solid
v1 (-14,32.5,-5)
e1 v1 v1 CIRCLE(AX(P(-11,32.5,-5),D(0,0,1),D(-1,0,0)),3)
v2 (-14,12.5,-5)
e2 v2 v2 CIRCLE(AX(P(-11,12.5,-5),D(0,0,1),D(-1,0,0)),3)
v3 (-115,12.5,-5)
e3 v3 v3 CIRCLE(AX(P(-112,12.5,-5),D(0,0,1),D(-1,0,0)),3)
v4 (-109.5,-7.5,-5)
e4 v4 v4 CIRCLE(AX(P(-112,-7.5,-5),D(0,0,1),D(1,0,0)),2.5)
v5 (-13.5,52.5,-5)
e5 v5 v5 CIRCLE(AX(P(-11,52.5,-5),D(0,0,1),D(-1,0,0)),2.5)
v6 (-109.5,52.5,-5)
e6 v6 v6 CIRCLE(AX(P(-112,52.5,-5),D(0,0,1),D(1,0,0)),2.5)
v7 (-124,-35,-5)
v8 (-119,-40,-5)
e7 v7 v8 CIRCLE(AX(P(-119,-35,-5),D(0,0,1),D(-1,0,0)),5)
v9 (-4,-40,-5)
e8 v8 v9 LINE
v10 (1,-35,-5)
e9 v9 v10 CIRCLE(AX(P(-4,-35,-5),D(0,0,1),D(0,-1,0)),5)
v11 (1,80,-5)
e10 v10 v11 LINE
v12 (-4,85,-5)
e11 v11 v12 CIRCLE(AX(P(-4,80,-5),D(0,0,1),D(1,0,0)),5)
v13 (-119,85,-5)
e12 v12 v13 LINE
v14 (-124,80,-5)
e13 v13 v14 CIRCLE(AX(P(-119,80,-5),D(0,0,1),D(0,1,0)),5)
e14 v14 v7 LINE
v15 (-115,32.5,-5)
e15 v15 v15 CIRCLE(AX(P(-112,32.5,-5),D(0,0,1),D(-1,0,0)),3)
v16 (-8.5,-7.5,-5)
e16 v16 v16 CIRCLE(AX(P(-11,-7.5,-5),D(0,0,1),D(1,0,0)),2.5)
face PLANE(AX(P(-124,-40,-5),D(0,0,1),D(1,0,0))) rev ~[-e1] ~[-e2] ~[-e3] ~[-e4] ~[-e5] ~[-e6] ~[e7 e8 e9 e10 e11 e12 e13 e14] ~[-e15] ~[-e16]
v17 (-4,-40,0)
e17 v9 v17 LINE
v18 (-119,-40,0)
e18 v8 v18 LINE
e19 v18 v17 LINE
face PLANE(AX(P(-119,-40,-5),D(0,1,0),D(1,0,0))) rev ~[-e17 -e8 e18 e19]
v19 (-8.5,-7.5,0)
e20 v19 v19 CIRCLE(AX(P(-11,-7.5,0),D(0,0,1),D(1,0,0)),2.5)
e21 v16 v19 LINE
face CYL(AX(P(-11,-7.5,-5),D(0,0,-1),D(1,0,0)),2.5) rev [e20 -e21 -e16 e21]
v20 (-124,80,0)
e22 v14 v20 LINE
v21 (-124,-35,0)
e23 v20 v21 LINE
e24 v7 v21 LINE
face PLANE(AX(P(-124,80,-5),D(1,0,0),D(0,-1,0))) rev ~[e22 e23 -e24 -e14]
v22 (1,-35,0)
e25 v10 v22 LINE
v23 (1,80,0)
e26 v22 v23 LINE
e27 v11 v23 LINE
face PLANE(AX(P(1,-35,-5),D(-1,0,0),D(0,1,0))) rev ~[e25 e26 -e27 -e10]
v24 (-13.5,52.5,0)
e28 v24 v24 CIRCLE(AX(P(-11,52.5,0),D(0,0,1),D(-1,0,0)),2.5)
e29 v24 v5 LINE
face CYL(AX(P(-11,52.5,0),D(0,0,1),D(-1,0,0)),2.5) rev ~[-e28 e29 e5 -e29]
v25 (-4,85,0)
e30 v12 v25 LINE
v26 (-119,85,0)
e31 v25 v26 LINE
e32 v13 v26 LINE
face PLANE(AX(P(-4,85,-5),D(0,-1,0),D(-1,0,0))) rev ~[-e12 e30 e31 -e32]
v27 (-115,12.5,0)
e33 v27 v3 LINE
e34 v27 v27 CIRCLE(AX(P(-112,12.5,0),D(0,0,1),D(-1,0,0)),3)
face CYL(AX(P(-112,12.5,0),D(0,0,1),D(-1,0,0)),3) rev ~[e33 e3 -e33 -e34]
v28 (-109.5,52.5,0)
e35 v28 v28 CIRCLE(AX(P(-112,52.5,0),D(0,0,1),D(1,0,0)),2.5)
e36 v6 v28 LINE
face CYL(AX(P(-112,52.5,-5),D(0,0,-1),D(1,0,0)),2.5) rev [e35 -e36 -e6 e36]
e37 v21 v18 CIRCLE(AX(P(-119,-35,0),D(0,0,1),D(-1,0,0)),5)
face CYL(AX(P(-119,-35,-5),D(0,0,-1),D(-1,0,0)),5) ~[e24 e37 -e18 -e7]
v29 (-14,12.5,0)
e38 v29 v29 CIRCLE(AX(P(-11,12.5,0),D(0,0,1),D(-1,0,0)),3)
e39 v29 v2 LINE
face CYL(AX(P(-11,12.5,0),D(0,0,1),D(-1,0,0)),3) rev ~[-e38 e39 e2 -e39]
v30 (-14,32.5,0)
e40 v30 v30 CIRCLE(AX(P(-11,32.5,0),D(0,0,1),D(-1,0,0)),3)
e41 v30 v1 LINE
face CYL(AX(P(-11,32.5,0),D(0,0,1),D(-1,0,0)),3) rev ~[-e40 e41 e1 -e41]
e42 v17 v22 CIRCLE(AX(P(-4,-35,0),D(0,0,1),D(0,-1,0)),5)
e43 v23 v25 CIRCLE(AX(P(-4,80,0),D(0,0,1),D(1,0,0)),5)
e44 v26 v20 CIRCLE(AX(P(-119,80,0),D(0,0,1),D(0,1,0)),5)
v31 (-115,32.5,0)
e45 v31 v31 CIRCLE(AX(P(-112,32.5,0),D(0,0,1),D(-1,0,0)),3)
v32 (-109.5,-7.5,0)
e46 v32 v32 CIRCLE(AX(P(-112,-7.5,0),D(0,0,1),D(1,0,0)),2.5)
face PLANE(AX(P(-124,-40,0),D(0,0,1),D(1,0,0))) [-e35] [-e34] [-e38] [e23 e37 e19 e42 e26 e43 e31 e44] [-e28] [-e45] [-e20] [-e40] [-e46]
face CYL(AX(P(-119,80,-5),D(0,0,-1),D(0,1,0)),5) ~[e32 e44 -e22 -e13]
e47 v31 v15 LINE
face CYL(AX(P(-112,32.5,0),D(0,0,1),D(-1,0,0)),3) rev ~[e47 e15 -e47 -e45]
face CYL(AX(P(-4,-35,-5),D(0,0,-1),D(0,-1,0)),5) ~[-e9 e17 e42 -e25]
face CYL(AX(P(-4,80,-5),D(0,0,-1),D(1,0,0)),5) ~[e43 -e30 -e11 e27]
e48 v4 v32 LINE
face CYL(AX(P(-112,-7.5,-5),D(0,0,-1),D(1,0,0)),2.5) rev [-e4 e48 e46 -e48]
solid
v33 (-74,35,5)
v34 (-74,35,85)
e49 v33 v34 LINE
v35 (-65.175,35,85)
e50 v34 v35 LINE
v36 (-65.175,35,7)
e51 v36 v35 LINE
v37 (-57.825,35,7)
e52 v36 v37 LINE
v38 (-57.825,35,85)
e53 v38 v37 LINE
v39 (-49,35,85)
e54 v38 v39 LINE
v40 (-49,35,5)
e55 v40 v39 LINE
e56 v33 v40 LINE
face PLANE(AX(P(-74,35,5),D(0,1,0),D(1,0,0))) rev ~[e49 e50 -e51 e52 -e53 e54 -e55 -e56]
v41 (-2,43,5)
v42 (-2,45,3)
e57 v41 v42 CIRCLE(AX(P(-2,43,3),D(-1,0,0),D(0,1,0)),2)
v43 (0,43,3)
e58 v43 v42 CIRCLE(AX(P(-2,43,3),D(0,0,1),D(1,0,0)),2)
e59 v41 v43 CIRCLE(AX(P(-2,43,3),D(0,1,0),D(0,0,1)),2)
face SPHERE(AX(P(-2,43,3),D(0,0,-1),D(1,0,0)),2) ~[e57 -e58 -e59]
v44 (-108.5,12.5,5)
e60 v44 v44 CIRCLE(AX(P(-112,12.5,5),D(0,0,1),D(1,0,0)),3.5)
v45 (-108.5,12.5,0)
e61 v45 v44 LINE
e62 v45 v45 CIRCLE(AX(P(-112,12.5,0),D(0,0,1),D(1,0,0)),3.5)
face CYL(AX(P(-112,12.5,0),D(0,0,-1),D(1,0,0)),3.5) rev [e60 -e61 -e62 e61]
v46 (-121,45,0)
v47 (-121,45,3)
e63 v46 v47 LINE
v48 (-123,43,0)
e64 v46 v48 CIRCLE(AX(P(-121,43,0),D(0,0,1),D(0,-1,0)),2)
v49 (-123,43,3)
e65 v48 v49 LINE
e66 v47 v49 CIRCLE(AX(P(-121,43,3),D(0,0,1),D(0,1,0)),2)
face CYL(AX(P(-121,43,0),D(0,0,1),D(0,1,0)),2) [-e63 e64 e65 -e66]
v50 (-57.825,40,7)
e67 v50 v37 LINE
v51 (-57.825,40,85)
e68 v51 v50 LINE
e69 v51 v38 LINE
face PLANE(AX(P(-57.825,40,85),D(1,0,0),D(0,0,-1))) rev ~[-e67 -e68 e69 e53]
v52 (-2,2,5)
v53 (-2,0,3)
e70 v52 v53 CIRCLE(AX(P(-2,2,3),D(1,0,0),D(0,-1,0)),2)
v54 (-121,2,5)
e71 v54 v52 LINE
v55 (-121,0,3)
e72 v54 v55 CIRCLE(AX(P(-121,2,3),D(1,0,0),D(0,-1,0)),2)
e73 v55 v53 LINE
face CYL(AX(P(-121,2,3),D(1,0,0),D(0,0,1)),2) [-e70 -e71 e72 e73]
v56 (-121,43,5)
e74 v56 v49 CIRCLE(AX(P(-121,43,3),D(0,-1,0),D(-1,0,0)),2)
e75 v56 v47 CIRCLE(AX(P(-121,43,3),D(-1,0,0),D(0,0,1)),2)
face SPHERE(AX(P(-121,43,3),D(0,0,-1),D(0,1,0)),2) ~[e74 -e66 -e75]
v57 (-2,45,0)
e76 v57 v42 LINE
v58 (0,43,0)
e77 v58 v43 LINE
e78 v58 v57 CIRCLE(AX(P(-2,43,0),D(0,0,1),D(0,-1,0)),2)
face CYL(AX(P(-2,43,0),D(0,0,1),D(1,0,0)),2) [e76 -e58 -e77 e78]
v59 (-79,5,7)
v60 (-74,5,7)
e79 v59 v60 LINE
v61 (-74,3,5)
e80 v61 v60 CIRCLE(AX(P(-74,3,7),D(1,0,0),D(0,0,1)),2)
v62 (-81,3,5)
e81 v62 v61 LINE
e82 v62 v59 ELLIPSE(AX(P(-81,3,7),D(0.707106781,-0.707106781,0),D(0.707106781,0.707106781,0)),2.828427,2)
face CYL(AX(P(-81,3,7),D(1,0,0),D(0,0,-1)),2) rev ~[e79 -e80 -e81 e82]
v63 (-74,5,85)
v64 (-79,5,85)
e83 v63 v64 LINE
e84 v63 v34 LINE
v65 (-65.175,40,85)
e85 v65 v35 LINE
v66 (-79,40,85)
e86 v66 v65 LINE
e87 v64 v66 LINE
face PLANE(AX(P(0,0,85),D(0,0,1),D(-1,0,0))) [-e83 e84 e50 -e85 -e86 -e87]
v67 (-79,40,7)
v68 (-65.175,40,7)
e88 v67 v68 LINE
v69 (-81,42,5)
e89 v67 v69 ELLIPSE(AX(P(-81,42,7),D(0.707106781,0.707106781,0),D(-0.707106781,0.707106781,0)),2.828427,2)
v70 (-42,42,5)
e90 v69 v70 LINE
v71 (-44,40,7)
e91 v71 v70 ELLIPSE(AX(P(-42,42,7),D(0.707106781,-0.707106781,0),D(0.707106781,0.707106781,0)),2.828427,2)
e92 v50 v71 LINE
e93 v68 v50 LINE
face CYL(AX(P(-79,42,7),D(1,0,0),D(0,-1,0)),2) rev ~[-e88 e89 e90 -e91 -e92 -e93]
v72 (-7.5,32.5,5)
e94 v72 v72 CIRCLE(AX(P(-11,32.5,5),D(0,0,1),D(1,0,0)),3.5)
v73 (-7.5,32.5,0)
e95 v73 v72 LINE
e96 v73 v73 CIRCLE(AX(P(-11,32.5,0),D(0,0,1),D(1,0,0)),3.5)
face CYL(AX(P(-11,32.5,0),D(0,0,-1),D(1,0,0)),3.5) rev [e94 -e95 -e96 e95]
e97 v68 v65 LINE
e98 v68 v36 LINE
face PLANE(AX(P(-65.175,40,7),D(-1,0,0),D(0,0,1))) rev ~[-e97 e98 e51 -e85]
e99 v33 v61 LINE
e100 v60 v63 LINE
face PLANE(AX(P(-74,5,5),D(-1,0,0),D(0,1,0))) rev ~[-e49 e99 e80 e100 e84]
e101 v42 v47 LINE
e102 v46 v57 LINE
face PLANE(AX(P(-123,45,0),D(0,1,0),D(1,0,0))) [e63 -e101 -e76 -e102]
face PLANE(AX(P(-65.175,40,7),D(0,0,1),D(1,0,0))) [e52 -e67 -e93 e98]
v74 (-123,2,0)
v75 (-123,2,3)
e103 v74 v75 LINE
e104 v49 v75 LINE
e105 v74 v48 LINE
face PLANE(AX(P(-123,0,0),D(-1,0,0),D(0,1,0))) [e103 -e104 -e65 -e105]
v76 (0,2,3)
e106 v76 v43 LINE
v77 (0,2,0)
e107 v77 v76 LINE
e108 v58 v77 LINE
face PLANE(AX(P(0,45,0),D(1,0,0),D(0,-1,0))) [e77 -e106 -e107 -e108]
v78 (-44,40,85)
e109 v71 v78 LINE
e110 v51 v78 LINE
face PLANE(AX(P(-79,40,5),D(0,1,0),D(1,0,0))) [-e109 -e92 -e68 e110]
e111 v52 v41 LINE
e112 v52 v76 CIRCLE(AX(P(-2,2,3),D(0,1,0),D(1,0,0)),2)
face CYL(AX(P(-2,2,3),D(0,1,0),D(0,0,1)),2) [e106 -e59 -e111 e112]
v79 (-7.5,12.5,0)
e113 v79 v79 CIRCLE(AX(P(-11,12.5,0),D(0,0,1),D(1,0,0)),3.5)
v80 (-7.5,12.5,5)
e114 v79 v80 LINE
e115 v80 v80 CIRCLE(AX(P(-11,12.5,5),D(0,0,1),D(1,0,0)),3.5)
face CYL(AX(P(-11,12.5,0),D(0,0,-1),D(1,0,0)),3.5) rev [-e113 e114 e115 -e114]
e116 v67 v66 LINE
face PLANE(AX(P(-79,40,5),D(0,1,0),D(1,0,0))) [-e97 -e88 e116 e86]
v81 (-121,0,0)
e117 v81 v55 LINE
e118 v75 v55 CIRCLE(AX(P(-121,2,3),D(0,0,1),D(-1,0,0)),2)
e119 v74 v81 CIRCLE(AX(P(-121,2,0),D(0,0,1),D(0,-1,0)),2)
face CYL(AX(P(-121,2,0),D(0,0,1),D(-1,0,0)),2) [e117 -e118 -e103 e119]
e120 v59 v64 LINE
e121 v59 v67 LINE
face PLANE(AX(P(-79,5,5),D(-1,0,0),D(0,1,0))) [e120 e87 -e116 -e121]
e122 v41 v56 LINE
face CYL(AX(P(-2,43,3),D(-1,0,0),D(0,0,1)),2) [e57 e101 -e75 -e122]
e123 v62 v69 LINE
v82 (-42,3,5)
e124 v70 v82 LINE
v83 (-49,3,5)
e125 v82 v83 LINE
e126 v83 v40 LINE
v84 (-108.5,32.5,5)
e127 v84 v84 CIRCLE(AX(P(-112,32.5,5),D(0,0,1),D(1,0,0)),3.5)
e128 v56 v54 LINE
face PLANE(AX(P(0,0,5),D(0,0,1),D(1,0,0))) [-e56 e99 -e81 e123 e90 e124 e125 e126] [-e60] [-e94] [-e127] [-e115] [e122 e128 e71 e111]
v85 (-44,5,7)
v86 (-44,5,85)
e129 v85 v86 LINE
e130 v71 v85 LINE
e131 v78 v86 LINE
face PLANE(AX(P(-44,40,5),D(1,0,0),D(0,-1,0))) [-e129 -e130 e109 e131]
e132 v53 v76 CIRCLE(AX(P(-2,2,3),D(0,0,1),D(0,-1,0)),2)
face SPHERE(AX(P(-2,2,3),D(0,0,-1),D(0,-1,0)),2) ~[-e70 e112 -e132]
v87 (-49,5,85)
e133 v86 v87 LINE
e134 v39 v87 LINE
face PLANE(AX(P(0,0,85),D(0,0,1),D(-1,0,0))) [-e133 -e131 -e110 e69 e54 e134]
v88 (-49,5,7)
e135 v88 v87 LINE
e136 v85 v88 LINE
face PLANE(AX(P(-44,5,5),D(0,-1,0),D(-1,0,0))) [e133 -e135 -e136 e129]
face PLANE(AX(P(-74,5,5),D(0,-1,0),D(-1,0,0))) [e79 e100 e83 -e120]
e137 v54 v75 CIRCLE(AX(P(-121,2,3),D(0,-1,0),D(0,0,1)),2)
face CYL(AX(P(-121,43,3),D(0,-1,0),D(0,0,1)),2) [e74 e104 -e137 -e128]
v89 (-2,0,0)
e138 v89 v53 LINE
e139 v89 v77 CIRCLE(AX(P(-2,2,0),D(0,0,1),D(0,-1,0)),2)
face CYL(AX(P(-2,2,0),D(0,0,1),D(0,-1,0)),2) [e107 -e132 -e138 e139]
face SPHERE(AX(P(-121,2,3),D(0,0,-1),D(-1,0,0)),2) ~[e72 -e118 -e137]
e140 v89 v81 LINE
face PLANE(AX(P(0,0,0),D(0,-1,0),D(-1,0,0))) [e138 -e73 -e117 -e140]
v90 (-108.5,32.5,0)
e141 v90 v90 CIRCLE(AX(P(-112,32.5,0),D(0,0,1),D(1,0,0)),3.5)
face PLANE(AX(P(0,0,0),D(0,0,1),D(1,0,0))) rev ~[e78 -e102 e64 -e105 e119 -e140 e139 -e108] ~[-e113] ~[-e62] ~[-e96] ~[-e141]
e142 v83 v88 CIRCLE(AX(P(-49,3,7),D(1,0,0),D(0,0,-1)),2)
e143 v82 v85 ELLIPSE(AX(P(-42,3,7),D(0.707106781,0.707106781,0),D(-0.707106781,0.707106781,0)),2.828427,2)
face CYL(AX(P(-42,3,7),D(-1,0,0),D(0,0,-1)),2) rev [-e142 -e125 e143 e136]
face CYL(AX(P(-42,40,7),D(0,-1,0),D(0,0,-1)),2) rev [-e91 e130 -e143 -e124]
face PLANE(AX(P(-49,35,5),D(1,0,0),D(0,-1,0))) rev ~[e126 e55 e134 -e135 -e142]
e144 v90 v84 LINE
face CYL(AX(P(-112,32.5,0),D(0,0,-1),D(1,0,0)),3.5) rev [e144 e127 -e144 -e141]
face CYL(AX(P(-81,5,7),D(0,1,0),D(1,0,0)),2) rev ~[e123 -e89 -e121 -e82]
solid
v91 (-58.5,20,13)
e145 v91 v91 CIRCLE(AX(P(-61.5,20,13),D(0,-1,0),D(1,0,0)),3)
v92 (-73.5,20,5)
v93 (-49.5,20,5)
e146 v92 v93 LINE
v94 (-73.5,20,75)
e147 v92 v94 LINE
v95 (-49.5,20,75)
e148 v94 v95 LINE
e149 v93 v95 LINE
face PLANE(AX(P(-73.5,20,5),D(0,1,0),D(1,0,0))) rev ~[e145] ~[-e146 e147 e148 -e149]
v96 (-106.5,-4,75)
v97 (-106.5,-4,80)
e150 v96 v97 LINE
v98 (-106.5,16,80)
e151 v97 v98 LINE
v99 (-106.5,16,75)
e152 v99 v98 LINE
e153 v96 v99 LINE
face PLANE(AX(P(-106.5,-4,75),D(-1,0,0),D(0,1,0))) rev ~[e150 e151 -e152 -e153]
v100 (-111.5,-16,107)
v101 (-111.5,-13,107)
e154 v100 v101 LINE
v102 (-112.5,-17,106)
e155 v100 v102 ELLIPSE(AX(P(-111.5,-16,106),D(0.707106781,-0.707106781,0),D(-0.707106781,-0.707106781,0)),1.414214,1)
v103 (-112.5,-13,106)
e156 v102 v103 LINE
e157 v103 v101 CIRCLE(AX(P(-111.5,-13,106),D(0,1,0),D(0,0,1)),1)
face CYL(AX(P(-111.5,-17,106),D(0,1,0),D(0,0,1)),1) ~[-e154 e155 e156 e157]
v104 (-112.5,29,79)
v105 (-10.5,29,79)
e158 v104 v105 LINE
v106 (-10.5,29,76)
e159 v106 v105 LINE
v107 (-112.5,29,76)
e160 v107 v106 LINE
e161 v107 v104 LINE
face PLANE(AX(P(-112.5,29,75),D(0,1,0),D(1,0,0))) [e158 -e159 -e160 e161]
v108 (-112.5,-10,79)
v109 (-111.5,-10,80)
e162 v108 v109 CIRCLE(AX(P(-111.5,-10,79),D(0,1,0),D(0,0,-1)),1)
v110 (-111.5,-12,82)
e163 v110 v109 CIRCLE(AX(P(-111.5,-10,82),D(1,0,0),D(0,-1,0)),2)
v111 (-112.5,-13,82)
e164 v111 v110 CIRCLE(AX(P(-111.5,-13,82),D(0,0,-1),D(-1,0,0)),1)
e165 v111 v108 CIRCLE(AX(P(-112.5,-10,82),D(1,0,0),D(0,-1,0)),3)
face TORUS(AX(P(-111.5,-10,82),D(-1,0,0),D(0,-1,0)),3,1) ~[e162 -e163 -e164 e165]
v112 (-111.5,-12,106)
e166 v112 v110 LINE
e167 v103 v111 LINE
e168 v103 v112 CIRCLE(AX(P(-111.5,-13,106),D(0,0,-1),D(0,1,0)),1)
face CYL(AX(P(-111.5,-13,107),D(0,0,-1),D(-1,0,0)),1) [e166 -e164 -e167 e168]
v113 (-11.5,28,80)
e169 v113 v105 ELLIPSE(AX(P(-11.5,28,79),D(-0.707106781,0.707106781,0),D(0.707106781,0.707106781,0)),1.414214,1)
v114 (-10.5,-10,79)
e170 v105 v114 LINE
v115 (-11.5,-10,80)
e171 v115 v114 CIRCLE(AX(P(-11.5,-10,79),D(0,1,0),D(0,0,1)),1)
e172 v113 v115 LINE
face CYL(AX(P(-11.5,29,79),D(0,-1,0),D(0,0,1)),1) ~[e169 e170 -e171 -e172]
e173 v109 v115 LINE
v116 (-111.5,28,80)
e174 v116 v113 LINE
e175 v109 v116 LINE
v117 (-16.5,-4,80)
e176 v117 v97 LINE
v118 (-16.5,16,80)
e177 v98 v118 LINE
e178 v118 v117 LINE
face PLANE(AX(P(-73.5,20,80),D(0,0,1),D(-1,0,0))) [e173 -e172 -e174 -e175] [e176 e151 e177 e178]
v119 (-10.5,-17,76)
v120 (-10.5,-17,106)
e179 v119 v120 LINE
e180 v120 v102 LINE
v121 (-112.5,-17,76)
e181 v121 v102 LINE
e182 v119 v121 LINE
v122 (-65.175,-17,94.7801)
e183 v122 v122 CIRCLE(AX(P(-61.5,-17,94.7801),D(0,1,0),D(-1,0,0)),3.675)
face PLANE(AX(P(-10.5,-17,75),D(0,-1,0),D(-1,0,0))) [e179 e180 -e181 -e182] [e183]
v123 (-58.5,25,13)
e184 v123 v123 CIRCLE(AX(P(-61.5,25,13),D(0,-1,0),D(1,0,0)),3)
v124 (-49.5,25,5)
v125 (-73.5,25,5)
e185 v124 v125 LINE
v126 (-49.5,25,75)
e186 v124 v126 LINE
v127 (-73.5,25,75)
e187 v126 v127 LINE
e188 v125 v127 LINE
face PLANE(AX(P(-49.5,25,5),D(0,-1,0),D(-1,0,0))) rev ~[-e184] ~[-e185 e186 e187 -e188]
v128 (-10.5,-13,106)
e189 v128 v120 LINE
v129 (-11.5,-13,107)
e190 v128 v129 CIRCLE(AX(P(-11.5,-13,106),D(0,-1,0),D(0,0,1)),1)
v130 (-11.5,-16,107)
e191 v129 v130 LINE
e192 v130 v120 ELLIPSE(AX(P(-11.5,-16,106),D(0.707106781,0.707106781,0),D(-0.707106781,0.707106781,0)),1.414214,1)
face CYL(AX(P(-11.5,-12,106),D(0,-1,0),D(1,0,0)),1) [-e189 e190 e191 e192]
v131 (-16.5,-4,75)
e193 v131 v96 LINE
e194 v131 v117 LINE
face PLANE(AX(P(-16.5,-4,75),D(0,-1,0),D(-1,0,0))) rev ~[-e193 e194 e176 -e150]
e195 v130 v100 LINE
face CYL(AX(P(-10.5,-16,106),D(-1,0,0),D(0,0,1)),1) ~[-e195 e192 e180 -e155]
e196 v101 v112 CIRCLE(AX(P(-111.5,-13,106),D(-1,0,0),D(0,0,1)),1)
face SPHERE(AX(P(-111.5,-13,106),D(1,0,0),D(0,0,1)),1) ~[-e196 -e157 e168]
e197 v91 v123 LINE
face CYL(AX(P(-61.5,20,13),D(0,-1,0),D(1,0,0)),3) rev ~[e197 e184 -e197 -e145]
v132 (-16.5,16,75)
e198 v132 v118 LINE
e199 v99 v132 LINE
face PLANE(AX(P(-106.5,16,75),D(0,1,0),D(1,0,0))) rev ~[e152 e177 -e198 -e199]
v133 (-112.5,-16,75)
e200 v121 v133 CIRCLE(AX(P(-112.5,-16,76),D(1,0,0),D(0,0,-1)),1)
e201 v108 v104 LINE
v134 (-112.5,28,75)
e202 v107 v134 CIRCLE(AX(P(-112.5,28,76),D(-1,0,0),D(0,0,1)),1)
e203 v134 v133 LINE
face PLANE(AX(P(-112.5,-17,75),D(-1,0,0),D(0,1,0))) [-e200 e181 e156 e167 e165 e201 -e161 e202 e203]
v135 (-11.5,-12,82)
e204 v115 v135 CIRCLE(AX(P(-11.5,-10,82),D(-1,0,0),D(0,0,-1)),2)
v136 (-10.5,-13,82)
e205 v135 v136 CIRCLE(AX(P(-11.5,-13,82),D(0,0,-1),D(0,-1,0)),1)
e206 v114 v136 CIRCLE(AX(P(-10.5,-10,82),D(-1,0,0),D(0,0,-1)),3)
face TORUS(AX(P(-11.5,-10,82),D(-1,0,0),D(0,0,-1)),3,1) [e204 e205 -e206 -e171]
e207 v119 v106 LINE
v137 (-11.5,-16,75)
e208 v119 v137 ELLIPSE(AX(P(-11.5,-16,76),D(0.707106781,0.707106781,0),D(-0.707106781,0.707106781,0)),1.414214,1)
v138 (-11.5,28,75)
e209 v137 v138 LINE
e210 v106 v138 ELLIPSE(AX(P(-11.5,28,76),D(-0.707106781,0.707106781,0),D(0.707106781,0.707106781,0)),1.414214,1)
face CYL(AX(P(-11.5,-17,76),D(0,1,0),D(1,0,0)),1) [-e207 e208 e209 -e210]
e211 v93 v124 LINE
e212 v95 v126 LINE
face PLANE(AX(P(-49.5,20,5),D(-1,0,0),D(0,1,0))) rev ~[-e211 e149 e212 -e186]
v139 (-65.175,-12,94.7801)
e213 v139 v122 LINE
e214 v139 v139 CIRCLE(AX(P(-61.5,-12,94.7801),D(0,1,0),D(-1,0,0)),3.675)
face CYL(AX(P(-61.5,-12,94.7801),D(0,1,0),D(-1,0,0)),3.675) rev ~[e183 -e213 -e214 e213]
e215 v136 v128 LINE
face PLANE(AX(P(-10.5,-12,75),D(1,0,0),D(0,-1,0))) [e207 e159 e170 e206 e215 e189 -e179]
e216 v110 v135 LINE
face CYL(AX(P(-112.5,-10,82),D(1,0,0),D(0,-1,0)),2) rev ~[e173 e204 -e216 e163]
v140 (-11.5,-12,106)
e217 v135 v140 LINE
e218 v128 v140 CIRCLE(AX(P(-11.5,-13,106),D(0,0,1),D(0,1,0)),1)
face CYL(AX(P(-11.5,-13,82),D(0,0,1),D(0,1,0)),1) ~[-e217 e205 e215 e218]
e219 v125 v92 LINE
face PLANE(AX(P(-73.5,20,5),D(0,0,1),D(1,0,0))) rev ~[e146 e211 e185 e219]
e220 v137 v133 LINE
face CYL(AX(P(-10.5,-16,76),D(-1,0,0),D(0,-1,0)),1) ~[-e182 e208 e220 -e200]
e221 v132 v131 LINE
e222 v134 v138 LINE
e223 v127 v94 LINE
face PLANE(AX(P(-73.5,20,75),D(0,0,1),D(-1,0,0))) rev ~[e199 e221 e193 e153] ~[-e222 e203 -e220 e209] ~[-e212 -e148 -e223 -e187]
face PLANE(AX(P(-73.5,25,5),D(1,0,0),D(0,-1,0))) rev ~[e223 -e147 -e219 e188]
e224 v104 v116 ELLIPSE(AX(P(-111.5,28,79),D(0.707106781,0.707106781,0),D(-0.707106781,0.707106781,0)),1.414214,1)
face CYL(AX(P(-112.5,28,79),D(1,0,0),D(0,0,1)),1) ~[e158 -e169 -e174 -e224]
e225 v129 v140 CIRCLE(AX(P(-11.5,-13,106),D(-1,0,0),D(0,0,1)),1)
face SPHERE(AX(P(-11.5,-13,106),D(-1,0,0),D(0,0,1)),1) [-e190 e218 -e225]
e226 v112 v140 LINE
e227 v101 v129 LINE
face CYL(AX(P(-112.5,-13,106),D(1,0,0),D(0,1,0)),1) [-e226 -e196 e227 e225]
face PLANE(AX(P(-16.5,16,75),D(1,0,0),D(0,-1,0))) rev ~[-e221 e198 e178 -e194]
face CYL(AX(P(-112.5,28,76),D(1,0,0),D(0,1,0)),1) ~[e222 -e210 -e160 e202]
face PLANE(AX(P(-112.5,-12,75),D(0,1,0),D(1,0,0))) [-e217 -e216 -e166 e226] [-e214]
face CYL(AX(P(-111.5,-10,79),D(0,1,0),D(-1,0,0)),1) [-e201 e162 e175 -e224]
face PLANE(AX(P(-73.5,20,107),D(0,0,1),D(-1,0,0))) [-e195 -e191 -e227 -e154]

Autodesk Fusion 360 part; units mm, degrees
sketch "Sketch1" plane through (0, 0, 0) normal (0, 0, 1) x (1, 0, 0) in component "Main plate"
  line L0 (5, 0) -> (120, 0)
  line L1 (125, 5) -> (125, 120)
  line L2 (120, 125) -> (5, 125)
  line L3 (0, 120) -> (0, 5)
  arc A0 (125, 120) -> (120, 125) centre (120, 120) ccw
  arc A1 (5, 125) -> (0, 120) centre (5, 120) ccw
  arc A2 (0, 5) -> (5, 0) centre (5, 5) ccw
  arc A3 (120, 0) -> (125, 5) centre (120, 5) ccw
  circle A4 centre (12, 32.5) radius 2.5
  circle A5 centre (113, 32.5) radius 2.5
  circle A6 centre (12, 92.5) radius 2.5
  line L4 (45, 80) -> (80, 80)
  line L5 (80, 80) -> (80, 45)
  line L6 (80, 45) -> (45, 45)
  line L7 (45, 45) -> (45, 80)
  dimension "d3" = 10
  dimension "d4" = 10
  dimension "d5" = 10
  dimension "d6" = 10
  dimension "d7" = 5
  dimension "d8" = 12
  dimension "d9" = 32.5
  dimension "d10" = 5
  dimension "d11" = 12
  dimension "d12" = 32.5
  dimension "d13" = 5
  dimension "d15" = 12
  dimension "d16" = 32.5
  dimension "d81" = 35
  dimension "d82" = 35
  dimension "d83" = 45
  dimension "d84" = 45
  dimension "d85" = 45
  dimension "d86" = 45
extrude "Extrude1" add sketch "Sketch1" along normal blind 5 contours L0 L1 L2 L3 A0 A1 A2 A3 | L4 L5 L6 L7 makes body 1 in component "Main plate"
sketch "Sketch1 (2)" plane through (0, 0, 0) normal (0, 0, 1) x (1, 0, 0) in component "Holder"
  line L0 (0, 0) -> (125, 0)
  line L1 (125, 0) -> (125, 25)
  line L2 (125, 25) -> (0, 25)
  line L3 (0, 25) -> (0, 0)
  circle A0 centre (12, 8) radius 2.55
  circle A1 centre (113, 8) radius 2.55
  line L4 (23.5147, 12.5) -> (94.9191, 12.5) construction
  line L5 (0, 20) -> (125, 20)
  dimension "d21" = 125
  dimension "d22" = 25
  dimension "d23" = 5.1
  dimension "d24" = 5.1
  dimension "d25" = 8
  dimension "d26" = 8
  dimension "d27" = 12
  dimension "d28" = 12
  dimension "d29" = 12.5
  dimension "d30" = 5
extrude "Extrude1'" add sketch "Sketch1 (2)" along normal blind 5 separate body contours L0 L1 L3 L5 makes body 2 in component "Holder"
extrude "Extrude2" add sketch "Sketch1 (2)" along normal blind 100 contours L1 L2 L3 L5 bodies 2 in component "Holder"
fillet "Fillet1" radius 3 1 edges at (62.5, 20, 5) on bodies 2 in component "Holder"
sketch "Sketch2" plane through (0, 20, 0) normal (0, -1, 0) x (1, 0, 0) in component "Holder"
sketch "Sketch3" plane through (0, 20, 0) normal (0, -1, 0) x (1, 0, 0) in component "Holder"
  line L0 (125, 100) -> (0, 100)
  line L1 (62.5, 100) -> (62.5, 8) construction
  line L2 (125, 8) -> (125, 100)
  line L3 (125, 8) -> (0, 8)
  circle A0 centre (62.5, 94.325) radius 3.675
  circle A1 centre (62.5, 82.975) radius 3.675
  circle A2 centre (62.5, 84.175) radius 3.275
  circle A3 centre (62.5, 84.175) radius 3.275
  circle A4 centre (62.5, 73.625) radius 3.275
  circle A5 centre (62.5, 63.075) radius 3.275
  circle A6 centre (62.5, 52.525) radius 3.275
  circle A7 centre (62.5, 52.525) radius 3.275
  circle A8 centre (62.5, 41.975) radius 3.275
  circle A9 centre (62.5, 31.425) radius 3.275
  circle A10 centre (62.5, 20.875) radius 3.275
  dimension "d37" = 62.5
  dimension "cam_diameter" = 7.35
  dimension "d39" = 5.675
  dimension "d40" = 7.35
  dimension "d41" = 11.35
  dimension "d42" = 6.55
  dimension "d43" = 6.55
  dimension "d44" = 6.55
  dimension "d45" = 6.55
  dimension "d46" = 6.55
  dimension "d47" = 6.55
  dimension "d48" = 6.55
  dimension "d49" = 6.55
  dimension "d50" = 6.55
extrude "Extrude3" cut sketch "Sketch3" against normal blind 5 bodies 2 in component "Holder"
fillet "Fillet2" radius 1 15 edges at (0, 22.5, 100) (62.5, 25, 100) (125, 22.5, 100) (125, 8.5, 5) (125, 19.1213, 5.8787) (125, 20, 54) (125, 25, 50) (125, 12.5, 0) (62.5, 0, 5) (62.5, 0, 0) (0, 20, 54) (0, 19.1213, 5.8787) (0, 8.5, 5) (0, 12.5, 0) (0, 25, 50) on bodies 2 in component "Holder"
sketch "Sketch4" plane through (0, 20, 0) normal (0, -1, 0) x (1, 0, 0) in component "Holder"
  line L0 (11, 90) -> (52.5, 90)
  line L1 (52.5, 90) -> (52.5, 18)
  line L2 (52.5, 18) -> (11, 18)
  line L3 (11, 18) -> (11, 90)
  line L4 (1, 8) -> (1, 100)
  line L5 (125, 100) -> (0, 100)
  line L6 (125, 8) -> (0, 8)
  line L7 (72.5, 90) -> (114, 90)
  line L8 (114, 90) -> (114, 18)
  line L9 (114, 18) -> (72.5, 18)
  line L10 (72.5, 18) -> (72.5, 90)
  point P0 (62.5, 73.625)
  point P1 (62.5, 82.975)
  dimension "d55" = 10
  dimension "d56" = 10
  dimension "d57" = 10
  dimension "d58" = 10
  dimension "d59" = 72
  dimension "d60" = 41.5
  dimension "d61" = 41.5
  dimension "d62" = 72
  dimension "d63" = 10
  dimension "d64" = 10
sketch "Sketch2 (2)" plane through (0, 0, 5) normal (0, 0, 1) x (-1, 0, 0) in component "Main plate"
  circle A0 centre (-12, -72.5) radius 3
  line L0 (0, -120) -> (0, -5)
  circle A1 centre (-12, -52.5) radius 3
  circle A2 centre (-113, -52.5) radius 3
  line L1 (-125, -5) -> (-125, -120)
  circle A3 centre (-113, -72.5) radius 3
  circle A4 centre (-113, -92.5) radius 2.5
  line L2 (-120, -125) -> (-5, -125)
  point P0 (-12, -92.5)
  point P1 (-12, -32.5)
  point P2 (-113, -32.5)
  dimension "d65" = 6
  dimension "d66" = 20
  dimension "d67" = 12
  dimension "d68" = 6
  dimension "d69" = 20
  dimension "d70" = 12
  dimension "d71" = 20
  dimension "d72" = 6
  dimension "d73" = 12
  dimension "d74" = 6
  dimension "d75" = 12
  dimension "d148" = 5
  dimension "d149" = 20
  dimension "d150" = 20
  dimension "d151" = 20
  dimension "d152" = 32.5
  dimension "d153" = 12
sketch "Sketch3 (2)" plane through (0, 0, 5) normal (0, 0, 1) x (-1, 0, 0) in component "Main plate"
extrude "Extrude2'" add sketch "Sketch2 (2)" against normal blind 5 contours A0 | A1 | A2 | A3 bodies 1 in component "Main plate"
extrude "Extrude3'" cut sketch "Sketch2 (2)" against normal blind 5 contours A0 | A1 | A2 | A3 bodies 1 in component "Main plate"
sketch "Sketch1 (3)" plane through (0, 0, 0) normal (0, 0, 1) x (1, 0, 0) in component "slider"
  line L0 (0, 0) -> (-123, 0)
  line L1 (-123, 0) -> (-123, 45)
  line L2 (-123, 45) -> (0, 45)
  line L3 (0, 45) -> (0, 0)
  circle A0 centre (-112, 32.5) radius 3.5
  circle A1 centre (-112, 12.5) radius 3.5
  circle A2 centre (-11, 32.5) radius 3.5
  circle A3 centre (-11, 12.5) radius 3.5
  dimension "slider_lower_width" = 123
  dimension "slider_lower_height" = 45
  dimension "d90" = 7
  dimension "d91" = 7
  dimension "d92" = 7
  dimension "d93" = 7
  dimension "d97" = 12.5
  dimension "d98" = 12.5
  dimension "d99" = 11
  dimension "d100" = 11
  dimension "d101" = 11
  dimension "d102" = 12.5
  dimension "d103" = 11
  dimension "d104" = 12.5
extrude "Extrude1''" add sketch "Sketch1 (3)" along normal blind 5 separate body makes body 3 in component "slider"
fillet "Fillet1'" radius 2 1 edges at (0, 0, 2.5) on bodies 3 in component "slider"
fillet "Fillet2'" radius 2 1 edges at (0, 45, 2.5) on bodies 3 in component "slider"
fillet "Fillet3" radius 2 1 edges at (-123, 45, 2.5) on bodies 3 in component "slider"
fillet "Fillet4" radius 2 1 edges at (-123, 0, 2.5) on bodies 3 in component "slider"
sketch "Sketch2 (3)" plane through (0, 0, 5) normal (0, 0, 1) x (-1, 0, 0) in component "slider"
  point P0 (112, -32.5)
  point P1 (11, -32.5)
  dimension "d115" = 101
sketch "Sketch3 (3)" plane through (0, 0, 5) normal (0, 0, 1) x (-1, 0, 0) in component "slider"
  line L0 (79, -5) -> (79, -40)
  line L1 (79, -40) -> (44, -40)
  line L2 (44, -40) -> (44, -5)
  line L3 (0, 0) -> (123, 0)
  line L4 (123, 0) -> (123, -45)
  line L5 (0, -45) -> (0, 0)
  line L6 (74, -5) -> (74, -35)
  line L7 (74, -35) -> (49, -35)
  line L8 (49, -35) -> (49, -5)
  line L9 (44, -5) -> (49, -5)
  line L10 (74, -5) -> (79, -5)
  point P0 (112, -12.5)
  point P1 (11, -12.5)
  dimension "d116" = 35
  dimension "d117" = 35
  dimension "d118" = 5
  dimension "d119" = 44
  dimension "d120" = 44
  dimension "d121" = 33
  dimension "d122" = 33
  dimension "d123" = 5
  dimension "d124" = 5
  dimension "d125" = 5
extrude "Extrude2''" add sketch "Sketch3 (3)" along normal blind 80 bodies 3 in component "slider"
fillet "Fillet5" radius 2 3 edges at (-79, 22.5, 5) (-61.5, 40, 5) (-44, 22.5, 5) on bodies 3 in component "slider"
fillet "Fillet6" radius 2 8 edges at (-0.5858, 0.5858, 5) (0, 22.5, 5) (-0.5858, 44.4142, 5) (-61.5, 45, 5) (-122.4142, 44.4142, 5) (-123, 22.5, 5) (-122.4142, 0.5858, 5) (-61.5, 0, 5) on bodies 3 in component "slider"
fillet "Fillet7" radius 2 2 edges at (-45.5, 5, 5) (-77.5, 5, 5) on bodies 3 in component "slider"
sketch "Sketch4 (2)" plane through (0, 0, 85) normal (0, 0, 1) x (-1, 0, 0) in component "slider"
  line L0 (49, -35) -> (49, -5)
  line L1 (74, -5) -> (74, -35)
  dimension "d134" = 25
sketch "Sketch5" plane through (0, 40, 0) normal (0, 1, 0) x (-1, 0, 0) in component "slider"
sketch "Sketch6" plane through (0, 0, 85) normal (0, 0, 1) x (-1, 0, 0) in component "slider"
sketch "Sketch7" plane through (0, 0, 85) normal (0, 0, 1) x (-1, 0, 0) in component "slider"
sketch "Sketch8" plane through (0, 40, 0) normal (0, 1, 0) x (-1, 0, 0) in component "slider"
  line L0 (74, 85) -> (49, 85)
  line L1 (79, 7) -> (44, 7)
  line L2 (57.825, 85) -> (57.825, 7)
  line L3 (65.175, 7) -> (65.175, 85)
  line L4 (44, 7) -> (44, 85)
  line L5 (79, 7) -> (79, 85)
  dimension "d135" = 13.825
  dimension "d136" = 7.35
  dimension "d137" = 13.825
extrude "Extrude3''" cut sketch "Sketch8" against normal blind 5 bodies 3 in component "slider"
sketch "Sketch9" plane through (0, 0, 5) normal (0, 0, 1) x (-1, 0, 0) in component "slider"
  line L0 (123, -45) -> (0, -45)
  line L1 (0, 0) -> (123, 0)
  dimension "d140" = 45
sketch "Sketch4 (3)" plane through (0, 0, 5) normal (0, 0, 1) x (-1, 0, 0) in component "Main plate"
  circle A0 centre (-113, -92.5) radius 2.5
  line L0 (-120, -125) -> (-5, -125)
  line L1 (-125, -5) -> (-125, -120)
  dimension "d145" = 5
  dimension "d146" = 32.5
  dimension "d147" = 12
extrude "Extrude4" cut sketch "Sketch4 (3)" against normal blind 5 bodies 1 in component "Main plate"
sketch "Sketch10" plane through (-44, 0, 0) normal (1, 0, 0) x (0, 1, 0) in component "slider"
  line L0 (35, 85) -> (5, 85)
  line L1 (40, 7) -> (5, 7)
  dimension "d156" = 78
sketch "Sketch1 (4)" plane through (0, 0, 0) normal (0, 0, 1) x (1, 0, 0) in component "camera_holder"
sketch "Sketch2 (4)" plane through (0, 0, 0) normal (0, 0, 1) x (1, 0, 0) in component "camera_holder"
  line L0 (0, 0) -> (24, 0)
  line L1 (24, 0) -> (24, 5)
  line L2 (24, 5) -> (0, 5)
  line L3 (0, 5) -> (0, 0)
  dimension "d157" = 24
  dimension "d158" = 5
extrude "Extrude1'''" add sketch "Sketch2 (4)" along normal blind 70 separate body makes body 4 in component "camera_holder"
sketch "Sketch3 (4)" plane through (0, 0, 0) normal (0, -1, 0) x (1, 0, 0) in component "camera_holder"
  circle A0 centre (12, 8) radius 3
  line L0 (0, 0) -> (24, 0)
  line L1 (0, 0) -> (0, 70)
  dimension "d161" = 6
  dimension "d162" = 8
  dimension "d163" = 12
extrude "Extrude2'''" cut sketch "Sketch3 (4)" against normal blind 5 bodies 4 in component "camera_holder"
sketch "Sketch4 (4)" plane through (0, 0, 0) normal (0, -1, 0) x (1, 0, 0) in component "camera_holder"
sketch "Sketch5 (2)" plane through (0, 0, 0) normal (0, -1, 0) x (1, 0, 0) in component "camera_holder"
  circle A0 centre (12, 8) radius 3
  dimension "d166" = 6
sketch "Sketch6 (2)" plane through (0, 0, 70) normal (0, 0, 1) x (-1, 0, 0) in component "camera_holder"
  line L0 (39, -9) -> (-63, -9)
  line L1 (-63, -9) -> (-63, 37)
  line L2 (-63, 37) -> (39, 37)
  line L3 (39, 37) -> (39, -9)
  line L4 (-24, 0) -> (-24, -5)
  line L5 (-24, -5) -> (0, -5)
  line L6 (33, 4) -> (-57, 4)
  line L7 (-57, 4) -> (-57, 24)
  line L8 (-57, 24) -> (33, 24)
  line L9 (33, 24) -> (33, 4)
  line L10 (0, 0) -> (-24, 0)
  line L11 (39, 32) -> (-63, 32)
  dimension "d167" = 102
  dimension "d168" = 46
  dimension "d169" = 39
  dimension "d170" = 4
  dimension "d171" = 90
  dimension "d172" = 20
  dimension "d173" = 4
  dimension "d174" = 6
  dimension "d175" = 5
extrude "Extrude3'''" add sketch "Sketch6 (2)" along normal blind 5 contours L0 L1 L3 L11 bodies 4 in component "camera_holder"
extrude "Extrude4'" add sketch "Sketch6 (2)" along normal blind 32 contours L1 L2 L3 L11 bodies 4 in component "camera_holder"
fillet "Fillet1''" radius 2 1 edges at (12, -32, 75) on bodies 4 in component "camera_holder"
fillet "Fillet2''" radius 1 14 edges at (12, -37, 102) (12, -32, 102) (63, -34.5, 102) (-39, -34.5, 102) (-39, -10.5, 75) (-39, -31.4142, 75.5858) (-39, -32, 89.5) (12, -37, 70) (63, -14, 70) (12, 9, 70) (12, 9, 75) (63, -32, 89.5) (63, -31.4142, 75.5858) (63, -10.5, 75) on bodies 4 in component "camera_holder"
sketch "Sketch7 (2)" plane through (0, -32, 0) normal (0, 1, 0) x (-1, 0, 0) in component "camera_holder"
  circle A0 centre (-12, 89.7801) radius 3.675
  line L0 (39, 77) -> (39, 101)
  dimension "d184" = 7.35
  dimension "d185" = 51
extrude "Extrude5" cut sketch "Sketch7 (2)" against normal blind 5 bodies 4 in component "camera_holder"
component "Main plate" placed x (1, 0, 0) y (0, 1, 0) z (0, 0, 1) at (-124, -40, -5)
component "slider" placed x (1, 0, 0) y (0, 1, 0) z (0, 0, 1) at (0, 0, 0)
component "camera_holder" placed x (1, 0, 0) y (0, 1, 0) z (0, 0, 1) at (-73.5, 20, 5)
equation "main_plate_thickness = 5 mm"
equation "d29 = d22 / 2"
equation "d31 = 5 mm"
equation "d37 = d21 / 2"
equation "d39 = cam_diameter / 2 + 2 mm"
equation "d41 = cam_diameter + 4 mm"
equation "d51 = -d31"
equation "d77 = -main_plate_thickness"
equation "d79 = -main_plate_thickness"
equation "upper_plate_thickness_1 = 5 mm"
equation "d163 = d157 / 2"
